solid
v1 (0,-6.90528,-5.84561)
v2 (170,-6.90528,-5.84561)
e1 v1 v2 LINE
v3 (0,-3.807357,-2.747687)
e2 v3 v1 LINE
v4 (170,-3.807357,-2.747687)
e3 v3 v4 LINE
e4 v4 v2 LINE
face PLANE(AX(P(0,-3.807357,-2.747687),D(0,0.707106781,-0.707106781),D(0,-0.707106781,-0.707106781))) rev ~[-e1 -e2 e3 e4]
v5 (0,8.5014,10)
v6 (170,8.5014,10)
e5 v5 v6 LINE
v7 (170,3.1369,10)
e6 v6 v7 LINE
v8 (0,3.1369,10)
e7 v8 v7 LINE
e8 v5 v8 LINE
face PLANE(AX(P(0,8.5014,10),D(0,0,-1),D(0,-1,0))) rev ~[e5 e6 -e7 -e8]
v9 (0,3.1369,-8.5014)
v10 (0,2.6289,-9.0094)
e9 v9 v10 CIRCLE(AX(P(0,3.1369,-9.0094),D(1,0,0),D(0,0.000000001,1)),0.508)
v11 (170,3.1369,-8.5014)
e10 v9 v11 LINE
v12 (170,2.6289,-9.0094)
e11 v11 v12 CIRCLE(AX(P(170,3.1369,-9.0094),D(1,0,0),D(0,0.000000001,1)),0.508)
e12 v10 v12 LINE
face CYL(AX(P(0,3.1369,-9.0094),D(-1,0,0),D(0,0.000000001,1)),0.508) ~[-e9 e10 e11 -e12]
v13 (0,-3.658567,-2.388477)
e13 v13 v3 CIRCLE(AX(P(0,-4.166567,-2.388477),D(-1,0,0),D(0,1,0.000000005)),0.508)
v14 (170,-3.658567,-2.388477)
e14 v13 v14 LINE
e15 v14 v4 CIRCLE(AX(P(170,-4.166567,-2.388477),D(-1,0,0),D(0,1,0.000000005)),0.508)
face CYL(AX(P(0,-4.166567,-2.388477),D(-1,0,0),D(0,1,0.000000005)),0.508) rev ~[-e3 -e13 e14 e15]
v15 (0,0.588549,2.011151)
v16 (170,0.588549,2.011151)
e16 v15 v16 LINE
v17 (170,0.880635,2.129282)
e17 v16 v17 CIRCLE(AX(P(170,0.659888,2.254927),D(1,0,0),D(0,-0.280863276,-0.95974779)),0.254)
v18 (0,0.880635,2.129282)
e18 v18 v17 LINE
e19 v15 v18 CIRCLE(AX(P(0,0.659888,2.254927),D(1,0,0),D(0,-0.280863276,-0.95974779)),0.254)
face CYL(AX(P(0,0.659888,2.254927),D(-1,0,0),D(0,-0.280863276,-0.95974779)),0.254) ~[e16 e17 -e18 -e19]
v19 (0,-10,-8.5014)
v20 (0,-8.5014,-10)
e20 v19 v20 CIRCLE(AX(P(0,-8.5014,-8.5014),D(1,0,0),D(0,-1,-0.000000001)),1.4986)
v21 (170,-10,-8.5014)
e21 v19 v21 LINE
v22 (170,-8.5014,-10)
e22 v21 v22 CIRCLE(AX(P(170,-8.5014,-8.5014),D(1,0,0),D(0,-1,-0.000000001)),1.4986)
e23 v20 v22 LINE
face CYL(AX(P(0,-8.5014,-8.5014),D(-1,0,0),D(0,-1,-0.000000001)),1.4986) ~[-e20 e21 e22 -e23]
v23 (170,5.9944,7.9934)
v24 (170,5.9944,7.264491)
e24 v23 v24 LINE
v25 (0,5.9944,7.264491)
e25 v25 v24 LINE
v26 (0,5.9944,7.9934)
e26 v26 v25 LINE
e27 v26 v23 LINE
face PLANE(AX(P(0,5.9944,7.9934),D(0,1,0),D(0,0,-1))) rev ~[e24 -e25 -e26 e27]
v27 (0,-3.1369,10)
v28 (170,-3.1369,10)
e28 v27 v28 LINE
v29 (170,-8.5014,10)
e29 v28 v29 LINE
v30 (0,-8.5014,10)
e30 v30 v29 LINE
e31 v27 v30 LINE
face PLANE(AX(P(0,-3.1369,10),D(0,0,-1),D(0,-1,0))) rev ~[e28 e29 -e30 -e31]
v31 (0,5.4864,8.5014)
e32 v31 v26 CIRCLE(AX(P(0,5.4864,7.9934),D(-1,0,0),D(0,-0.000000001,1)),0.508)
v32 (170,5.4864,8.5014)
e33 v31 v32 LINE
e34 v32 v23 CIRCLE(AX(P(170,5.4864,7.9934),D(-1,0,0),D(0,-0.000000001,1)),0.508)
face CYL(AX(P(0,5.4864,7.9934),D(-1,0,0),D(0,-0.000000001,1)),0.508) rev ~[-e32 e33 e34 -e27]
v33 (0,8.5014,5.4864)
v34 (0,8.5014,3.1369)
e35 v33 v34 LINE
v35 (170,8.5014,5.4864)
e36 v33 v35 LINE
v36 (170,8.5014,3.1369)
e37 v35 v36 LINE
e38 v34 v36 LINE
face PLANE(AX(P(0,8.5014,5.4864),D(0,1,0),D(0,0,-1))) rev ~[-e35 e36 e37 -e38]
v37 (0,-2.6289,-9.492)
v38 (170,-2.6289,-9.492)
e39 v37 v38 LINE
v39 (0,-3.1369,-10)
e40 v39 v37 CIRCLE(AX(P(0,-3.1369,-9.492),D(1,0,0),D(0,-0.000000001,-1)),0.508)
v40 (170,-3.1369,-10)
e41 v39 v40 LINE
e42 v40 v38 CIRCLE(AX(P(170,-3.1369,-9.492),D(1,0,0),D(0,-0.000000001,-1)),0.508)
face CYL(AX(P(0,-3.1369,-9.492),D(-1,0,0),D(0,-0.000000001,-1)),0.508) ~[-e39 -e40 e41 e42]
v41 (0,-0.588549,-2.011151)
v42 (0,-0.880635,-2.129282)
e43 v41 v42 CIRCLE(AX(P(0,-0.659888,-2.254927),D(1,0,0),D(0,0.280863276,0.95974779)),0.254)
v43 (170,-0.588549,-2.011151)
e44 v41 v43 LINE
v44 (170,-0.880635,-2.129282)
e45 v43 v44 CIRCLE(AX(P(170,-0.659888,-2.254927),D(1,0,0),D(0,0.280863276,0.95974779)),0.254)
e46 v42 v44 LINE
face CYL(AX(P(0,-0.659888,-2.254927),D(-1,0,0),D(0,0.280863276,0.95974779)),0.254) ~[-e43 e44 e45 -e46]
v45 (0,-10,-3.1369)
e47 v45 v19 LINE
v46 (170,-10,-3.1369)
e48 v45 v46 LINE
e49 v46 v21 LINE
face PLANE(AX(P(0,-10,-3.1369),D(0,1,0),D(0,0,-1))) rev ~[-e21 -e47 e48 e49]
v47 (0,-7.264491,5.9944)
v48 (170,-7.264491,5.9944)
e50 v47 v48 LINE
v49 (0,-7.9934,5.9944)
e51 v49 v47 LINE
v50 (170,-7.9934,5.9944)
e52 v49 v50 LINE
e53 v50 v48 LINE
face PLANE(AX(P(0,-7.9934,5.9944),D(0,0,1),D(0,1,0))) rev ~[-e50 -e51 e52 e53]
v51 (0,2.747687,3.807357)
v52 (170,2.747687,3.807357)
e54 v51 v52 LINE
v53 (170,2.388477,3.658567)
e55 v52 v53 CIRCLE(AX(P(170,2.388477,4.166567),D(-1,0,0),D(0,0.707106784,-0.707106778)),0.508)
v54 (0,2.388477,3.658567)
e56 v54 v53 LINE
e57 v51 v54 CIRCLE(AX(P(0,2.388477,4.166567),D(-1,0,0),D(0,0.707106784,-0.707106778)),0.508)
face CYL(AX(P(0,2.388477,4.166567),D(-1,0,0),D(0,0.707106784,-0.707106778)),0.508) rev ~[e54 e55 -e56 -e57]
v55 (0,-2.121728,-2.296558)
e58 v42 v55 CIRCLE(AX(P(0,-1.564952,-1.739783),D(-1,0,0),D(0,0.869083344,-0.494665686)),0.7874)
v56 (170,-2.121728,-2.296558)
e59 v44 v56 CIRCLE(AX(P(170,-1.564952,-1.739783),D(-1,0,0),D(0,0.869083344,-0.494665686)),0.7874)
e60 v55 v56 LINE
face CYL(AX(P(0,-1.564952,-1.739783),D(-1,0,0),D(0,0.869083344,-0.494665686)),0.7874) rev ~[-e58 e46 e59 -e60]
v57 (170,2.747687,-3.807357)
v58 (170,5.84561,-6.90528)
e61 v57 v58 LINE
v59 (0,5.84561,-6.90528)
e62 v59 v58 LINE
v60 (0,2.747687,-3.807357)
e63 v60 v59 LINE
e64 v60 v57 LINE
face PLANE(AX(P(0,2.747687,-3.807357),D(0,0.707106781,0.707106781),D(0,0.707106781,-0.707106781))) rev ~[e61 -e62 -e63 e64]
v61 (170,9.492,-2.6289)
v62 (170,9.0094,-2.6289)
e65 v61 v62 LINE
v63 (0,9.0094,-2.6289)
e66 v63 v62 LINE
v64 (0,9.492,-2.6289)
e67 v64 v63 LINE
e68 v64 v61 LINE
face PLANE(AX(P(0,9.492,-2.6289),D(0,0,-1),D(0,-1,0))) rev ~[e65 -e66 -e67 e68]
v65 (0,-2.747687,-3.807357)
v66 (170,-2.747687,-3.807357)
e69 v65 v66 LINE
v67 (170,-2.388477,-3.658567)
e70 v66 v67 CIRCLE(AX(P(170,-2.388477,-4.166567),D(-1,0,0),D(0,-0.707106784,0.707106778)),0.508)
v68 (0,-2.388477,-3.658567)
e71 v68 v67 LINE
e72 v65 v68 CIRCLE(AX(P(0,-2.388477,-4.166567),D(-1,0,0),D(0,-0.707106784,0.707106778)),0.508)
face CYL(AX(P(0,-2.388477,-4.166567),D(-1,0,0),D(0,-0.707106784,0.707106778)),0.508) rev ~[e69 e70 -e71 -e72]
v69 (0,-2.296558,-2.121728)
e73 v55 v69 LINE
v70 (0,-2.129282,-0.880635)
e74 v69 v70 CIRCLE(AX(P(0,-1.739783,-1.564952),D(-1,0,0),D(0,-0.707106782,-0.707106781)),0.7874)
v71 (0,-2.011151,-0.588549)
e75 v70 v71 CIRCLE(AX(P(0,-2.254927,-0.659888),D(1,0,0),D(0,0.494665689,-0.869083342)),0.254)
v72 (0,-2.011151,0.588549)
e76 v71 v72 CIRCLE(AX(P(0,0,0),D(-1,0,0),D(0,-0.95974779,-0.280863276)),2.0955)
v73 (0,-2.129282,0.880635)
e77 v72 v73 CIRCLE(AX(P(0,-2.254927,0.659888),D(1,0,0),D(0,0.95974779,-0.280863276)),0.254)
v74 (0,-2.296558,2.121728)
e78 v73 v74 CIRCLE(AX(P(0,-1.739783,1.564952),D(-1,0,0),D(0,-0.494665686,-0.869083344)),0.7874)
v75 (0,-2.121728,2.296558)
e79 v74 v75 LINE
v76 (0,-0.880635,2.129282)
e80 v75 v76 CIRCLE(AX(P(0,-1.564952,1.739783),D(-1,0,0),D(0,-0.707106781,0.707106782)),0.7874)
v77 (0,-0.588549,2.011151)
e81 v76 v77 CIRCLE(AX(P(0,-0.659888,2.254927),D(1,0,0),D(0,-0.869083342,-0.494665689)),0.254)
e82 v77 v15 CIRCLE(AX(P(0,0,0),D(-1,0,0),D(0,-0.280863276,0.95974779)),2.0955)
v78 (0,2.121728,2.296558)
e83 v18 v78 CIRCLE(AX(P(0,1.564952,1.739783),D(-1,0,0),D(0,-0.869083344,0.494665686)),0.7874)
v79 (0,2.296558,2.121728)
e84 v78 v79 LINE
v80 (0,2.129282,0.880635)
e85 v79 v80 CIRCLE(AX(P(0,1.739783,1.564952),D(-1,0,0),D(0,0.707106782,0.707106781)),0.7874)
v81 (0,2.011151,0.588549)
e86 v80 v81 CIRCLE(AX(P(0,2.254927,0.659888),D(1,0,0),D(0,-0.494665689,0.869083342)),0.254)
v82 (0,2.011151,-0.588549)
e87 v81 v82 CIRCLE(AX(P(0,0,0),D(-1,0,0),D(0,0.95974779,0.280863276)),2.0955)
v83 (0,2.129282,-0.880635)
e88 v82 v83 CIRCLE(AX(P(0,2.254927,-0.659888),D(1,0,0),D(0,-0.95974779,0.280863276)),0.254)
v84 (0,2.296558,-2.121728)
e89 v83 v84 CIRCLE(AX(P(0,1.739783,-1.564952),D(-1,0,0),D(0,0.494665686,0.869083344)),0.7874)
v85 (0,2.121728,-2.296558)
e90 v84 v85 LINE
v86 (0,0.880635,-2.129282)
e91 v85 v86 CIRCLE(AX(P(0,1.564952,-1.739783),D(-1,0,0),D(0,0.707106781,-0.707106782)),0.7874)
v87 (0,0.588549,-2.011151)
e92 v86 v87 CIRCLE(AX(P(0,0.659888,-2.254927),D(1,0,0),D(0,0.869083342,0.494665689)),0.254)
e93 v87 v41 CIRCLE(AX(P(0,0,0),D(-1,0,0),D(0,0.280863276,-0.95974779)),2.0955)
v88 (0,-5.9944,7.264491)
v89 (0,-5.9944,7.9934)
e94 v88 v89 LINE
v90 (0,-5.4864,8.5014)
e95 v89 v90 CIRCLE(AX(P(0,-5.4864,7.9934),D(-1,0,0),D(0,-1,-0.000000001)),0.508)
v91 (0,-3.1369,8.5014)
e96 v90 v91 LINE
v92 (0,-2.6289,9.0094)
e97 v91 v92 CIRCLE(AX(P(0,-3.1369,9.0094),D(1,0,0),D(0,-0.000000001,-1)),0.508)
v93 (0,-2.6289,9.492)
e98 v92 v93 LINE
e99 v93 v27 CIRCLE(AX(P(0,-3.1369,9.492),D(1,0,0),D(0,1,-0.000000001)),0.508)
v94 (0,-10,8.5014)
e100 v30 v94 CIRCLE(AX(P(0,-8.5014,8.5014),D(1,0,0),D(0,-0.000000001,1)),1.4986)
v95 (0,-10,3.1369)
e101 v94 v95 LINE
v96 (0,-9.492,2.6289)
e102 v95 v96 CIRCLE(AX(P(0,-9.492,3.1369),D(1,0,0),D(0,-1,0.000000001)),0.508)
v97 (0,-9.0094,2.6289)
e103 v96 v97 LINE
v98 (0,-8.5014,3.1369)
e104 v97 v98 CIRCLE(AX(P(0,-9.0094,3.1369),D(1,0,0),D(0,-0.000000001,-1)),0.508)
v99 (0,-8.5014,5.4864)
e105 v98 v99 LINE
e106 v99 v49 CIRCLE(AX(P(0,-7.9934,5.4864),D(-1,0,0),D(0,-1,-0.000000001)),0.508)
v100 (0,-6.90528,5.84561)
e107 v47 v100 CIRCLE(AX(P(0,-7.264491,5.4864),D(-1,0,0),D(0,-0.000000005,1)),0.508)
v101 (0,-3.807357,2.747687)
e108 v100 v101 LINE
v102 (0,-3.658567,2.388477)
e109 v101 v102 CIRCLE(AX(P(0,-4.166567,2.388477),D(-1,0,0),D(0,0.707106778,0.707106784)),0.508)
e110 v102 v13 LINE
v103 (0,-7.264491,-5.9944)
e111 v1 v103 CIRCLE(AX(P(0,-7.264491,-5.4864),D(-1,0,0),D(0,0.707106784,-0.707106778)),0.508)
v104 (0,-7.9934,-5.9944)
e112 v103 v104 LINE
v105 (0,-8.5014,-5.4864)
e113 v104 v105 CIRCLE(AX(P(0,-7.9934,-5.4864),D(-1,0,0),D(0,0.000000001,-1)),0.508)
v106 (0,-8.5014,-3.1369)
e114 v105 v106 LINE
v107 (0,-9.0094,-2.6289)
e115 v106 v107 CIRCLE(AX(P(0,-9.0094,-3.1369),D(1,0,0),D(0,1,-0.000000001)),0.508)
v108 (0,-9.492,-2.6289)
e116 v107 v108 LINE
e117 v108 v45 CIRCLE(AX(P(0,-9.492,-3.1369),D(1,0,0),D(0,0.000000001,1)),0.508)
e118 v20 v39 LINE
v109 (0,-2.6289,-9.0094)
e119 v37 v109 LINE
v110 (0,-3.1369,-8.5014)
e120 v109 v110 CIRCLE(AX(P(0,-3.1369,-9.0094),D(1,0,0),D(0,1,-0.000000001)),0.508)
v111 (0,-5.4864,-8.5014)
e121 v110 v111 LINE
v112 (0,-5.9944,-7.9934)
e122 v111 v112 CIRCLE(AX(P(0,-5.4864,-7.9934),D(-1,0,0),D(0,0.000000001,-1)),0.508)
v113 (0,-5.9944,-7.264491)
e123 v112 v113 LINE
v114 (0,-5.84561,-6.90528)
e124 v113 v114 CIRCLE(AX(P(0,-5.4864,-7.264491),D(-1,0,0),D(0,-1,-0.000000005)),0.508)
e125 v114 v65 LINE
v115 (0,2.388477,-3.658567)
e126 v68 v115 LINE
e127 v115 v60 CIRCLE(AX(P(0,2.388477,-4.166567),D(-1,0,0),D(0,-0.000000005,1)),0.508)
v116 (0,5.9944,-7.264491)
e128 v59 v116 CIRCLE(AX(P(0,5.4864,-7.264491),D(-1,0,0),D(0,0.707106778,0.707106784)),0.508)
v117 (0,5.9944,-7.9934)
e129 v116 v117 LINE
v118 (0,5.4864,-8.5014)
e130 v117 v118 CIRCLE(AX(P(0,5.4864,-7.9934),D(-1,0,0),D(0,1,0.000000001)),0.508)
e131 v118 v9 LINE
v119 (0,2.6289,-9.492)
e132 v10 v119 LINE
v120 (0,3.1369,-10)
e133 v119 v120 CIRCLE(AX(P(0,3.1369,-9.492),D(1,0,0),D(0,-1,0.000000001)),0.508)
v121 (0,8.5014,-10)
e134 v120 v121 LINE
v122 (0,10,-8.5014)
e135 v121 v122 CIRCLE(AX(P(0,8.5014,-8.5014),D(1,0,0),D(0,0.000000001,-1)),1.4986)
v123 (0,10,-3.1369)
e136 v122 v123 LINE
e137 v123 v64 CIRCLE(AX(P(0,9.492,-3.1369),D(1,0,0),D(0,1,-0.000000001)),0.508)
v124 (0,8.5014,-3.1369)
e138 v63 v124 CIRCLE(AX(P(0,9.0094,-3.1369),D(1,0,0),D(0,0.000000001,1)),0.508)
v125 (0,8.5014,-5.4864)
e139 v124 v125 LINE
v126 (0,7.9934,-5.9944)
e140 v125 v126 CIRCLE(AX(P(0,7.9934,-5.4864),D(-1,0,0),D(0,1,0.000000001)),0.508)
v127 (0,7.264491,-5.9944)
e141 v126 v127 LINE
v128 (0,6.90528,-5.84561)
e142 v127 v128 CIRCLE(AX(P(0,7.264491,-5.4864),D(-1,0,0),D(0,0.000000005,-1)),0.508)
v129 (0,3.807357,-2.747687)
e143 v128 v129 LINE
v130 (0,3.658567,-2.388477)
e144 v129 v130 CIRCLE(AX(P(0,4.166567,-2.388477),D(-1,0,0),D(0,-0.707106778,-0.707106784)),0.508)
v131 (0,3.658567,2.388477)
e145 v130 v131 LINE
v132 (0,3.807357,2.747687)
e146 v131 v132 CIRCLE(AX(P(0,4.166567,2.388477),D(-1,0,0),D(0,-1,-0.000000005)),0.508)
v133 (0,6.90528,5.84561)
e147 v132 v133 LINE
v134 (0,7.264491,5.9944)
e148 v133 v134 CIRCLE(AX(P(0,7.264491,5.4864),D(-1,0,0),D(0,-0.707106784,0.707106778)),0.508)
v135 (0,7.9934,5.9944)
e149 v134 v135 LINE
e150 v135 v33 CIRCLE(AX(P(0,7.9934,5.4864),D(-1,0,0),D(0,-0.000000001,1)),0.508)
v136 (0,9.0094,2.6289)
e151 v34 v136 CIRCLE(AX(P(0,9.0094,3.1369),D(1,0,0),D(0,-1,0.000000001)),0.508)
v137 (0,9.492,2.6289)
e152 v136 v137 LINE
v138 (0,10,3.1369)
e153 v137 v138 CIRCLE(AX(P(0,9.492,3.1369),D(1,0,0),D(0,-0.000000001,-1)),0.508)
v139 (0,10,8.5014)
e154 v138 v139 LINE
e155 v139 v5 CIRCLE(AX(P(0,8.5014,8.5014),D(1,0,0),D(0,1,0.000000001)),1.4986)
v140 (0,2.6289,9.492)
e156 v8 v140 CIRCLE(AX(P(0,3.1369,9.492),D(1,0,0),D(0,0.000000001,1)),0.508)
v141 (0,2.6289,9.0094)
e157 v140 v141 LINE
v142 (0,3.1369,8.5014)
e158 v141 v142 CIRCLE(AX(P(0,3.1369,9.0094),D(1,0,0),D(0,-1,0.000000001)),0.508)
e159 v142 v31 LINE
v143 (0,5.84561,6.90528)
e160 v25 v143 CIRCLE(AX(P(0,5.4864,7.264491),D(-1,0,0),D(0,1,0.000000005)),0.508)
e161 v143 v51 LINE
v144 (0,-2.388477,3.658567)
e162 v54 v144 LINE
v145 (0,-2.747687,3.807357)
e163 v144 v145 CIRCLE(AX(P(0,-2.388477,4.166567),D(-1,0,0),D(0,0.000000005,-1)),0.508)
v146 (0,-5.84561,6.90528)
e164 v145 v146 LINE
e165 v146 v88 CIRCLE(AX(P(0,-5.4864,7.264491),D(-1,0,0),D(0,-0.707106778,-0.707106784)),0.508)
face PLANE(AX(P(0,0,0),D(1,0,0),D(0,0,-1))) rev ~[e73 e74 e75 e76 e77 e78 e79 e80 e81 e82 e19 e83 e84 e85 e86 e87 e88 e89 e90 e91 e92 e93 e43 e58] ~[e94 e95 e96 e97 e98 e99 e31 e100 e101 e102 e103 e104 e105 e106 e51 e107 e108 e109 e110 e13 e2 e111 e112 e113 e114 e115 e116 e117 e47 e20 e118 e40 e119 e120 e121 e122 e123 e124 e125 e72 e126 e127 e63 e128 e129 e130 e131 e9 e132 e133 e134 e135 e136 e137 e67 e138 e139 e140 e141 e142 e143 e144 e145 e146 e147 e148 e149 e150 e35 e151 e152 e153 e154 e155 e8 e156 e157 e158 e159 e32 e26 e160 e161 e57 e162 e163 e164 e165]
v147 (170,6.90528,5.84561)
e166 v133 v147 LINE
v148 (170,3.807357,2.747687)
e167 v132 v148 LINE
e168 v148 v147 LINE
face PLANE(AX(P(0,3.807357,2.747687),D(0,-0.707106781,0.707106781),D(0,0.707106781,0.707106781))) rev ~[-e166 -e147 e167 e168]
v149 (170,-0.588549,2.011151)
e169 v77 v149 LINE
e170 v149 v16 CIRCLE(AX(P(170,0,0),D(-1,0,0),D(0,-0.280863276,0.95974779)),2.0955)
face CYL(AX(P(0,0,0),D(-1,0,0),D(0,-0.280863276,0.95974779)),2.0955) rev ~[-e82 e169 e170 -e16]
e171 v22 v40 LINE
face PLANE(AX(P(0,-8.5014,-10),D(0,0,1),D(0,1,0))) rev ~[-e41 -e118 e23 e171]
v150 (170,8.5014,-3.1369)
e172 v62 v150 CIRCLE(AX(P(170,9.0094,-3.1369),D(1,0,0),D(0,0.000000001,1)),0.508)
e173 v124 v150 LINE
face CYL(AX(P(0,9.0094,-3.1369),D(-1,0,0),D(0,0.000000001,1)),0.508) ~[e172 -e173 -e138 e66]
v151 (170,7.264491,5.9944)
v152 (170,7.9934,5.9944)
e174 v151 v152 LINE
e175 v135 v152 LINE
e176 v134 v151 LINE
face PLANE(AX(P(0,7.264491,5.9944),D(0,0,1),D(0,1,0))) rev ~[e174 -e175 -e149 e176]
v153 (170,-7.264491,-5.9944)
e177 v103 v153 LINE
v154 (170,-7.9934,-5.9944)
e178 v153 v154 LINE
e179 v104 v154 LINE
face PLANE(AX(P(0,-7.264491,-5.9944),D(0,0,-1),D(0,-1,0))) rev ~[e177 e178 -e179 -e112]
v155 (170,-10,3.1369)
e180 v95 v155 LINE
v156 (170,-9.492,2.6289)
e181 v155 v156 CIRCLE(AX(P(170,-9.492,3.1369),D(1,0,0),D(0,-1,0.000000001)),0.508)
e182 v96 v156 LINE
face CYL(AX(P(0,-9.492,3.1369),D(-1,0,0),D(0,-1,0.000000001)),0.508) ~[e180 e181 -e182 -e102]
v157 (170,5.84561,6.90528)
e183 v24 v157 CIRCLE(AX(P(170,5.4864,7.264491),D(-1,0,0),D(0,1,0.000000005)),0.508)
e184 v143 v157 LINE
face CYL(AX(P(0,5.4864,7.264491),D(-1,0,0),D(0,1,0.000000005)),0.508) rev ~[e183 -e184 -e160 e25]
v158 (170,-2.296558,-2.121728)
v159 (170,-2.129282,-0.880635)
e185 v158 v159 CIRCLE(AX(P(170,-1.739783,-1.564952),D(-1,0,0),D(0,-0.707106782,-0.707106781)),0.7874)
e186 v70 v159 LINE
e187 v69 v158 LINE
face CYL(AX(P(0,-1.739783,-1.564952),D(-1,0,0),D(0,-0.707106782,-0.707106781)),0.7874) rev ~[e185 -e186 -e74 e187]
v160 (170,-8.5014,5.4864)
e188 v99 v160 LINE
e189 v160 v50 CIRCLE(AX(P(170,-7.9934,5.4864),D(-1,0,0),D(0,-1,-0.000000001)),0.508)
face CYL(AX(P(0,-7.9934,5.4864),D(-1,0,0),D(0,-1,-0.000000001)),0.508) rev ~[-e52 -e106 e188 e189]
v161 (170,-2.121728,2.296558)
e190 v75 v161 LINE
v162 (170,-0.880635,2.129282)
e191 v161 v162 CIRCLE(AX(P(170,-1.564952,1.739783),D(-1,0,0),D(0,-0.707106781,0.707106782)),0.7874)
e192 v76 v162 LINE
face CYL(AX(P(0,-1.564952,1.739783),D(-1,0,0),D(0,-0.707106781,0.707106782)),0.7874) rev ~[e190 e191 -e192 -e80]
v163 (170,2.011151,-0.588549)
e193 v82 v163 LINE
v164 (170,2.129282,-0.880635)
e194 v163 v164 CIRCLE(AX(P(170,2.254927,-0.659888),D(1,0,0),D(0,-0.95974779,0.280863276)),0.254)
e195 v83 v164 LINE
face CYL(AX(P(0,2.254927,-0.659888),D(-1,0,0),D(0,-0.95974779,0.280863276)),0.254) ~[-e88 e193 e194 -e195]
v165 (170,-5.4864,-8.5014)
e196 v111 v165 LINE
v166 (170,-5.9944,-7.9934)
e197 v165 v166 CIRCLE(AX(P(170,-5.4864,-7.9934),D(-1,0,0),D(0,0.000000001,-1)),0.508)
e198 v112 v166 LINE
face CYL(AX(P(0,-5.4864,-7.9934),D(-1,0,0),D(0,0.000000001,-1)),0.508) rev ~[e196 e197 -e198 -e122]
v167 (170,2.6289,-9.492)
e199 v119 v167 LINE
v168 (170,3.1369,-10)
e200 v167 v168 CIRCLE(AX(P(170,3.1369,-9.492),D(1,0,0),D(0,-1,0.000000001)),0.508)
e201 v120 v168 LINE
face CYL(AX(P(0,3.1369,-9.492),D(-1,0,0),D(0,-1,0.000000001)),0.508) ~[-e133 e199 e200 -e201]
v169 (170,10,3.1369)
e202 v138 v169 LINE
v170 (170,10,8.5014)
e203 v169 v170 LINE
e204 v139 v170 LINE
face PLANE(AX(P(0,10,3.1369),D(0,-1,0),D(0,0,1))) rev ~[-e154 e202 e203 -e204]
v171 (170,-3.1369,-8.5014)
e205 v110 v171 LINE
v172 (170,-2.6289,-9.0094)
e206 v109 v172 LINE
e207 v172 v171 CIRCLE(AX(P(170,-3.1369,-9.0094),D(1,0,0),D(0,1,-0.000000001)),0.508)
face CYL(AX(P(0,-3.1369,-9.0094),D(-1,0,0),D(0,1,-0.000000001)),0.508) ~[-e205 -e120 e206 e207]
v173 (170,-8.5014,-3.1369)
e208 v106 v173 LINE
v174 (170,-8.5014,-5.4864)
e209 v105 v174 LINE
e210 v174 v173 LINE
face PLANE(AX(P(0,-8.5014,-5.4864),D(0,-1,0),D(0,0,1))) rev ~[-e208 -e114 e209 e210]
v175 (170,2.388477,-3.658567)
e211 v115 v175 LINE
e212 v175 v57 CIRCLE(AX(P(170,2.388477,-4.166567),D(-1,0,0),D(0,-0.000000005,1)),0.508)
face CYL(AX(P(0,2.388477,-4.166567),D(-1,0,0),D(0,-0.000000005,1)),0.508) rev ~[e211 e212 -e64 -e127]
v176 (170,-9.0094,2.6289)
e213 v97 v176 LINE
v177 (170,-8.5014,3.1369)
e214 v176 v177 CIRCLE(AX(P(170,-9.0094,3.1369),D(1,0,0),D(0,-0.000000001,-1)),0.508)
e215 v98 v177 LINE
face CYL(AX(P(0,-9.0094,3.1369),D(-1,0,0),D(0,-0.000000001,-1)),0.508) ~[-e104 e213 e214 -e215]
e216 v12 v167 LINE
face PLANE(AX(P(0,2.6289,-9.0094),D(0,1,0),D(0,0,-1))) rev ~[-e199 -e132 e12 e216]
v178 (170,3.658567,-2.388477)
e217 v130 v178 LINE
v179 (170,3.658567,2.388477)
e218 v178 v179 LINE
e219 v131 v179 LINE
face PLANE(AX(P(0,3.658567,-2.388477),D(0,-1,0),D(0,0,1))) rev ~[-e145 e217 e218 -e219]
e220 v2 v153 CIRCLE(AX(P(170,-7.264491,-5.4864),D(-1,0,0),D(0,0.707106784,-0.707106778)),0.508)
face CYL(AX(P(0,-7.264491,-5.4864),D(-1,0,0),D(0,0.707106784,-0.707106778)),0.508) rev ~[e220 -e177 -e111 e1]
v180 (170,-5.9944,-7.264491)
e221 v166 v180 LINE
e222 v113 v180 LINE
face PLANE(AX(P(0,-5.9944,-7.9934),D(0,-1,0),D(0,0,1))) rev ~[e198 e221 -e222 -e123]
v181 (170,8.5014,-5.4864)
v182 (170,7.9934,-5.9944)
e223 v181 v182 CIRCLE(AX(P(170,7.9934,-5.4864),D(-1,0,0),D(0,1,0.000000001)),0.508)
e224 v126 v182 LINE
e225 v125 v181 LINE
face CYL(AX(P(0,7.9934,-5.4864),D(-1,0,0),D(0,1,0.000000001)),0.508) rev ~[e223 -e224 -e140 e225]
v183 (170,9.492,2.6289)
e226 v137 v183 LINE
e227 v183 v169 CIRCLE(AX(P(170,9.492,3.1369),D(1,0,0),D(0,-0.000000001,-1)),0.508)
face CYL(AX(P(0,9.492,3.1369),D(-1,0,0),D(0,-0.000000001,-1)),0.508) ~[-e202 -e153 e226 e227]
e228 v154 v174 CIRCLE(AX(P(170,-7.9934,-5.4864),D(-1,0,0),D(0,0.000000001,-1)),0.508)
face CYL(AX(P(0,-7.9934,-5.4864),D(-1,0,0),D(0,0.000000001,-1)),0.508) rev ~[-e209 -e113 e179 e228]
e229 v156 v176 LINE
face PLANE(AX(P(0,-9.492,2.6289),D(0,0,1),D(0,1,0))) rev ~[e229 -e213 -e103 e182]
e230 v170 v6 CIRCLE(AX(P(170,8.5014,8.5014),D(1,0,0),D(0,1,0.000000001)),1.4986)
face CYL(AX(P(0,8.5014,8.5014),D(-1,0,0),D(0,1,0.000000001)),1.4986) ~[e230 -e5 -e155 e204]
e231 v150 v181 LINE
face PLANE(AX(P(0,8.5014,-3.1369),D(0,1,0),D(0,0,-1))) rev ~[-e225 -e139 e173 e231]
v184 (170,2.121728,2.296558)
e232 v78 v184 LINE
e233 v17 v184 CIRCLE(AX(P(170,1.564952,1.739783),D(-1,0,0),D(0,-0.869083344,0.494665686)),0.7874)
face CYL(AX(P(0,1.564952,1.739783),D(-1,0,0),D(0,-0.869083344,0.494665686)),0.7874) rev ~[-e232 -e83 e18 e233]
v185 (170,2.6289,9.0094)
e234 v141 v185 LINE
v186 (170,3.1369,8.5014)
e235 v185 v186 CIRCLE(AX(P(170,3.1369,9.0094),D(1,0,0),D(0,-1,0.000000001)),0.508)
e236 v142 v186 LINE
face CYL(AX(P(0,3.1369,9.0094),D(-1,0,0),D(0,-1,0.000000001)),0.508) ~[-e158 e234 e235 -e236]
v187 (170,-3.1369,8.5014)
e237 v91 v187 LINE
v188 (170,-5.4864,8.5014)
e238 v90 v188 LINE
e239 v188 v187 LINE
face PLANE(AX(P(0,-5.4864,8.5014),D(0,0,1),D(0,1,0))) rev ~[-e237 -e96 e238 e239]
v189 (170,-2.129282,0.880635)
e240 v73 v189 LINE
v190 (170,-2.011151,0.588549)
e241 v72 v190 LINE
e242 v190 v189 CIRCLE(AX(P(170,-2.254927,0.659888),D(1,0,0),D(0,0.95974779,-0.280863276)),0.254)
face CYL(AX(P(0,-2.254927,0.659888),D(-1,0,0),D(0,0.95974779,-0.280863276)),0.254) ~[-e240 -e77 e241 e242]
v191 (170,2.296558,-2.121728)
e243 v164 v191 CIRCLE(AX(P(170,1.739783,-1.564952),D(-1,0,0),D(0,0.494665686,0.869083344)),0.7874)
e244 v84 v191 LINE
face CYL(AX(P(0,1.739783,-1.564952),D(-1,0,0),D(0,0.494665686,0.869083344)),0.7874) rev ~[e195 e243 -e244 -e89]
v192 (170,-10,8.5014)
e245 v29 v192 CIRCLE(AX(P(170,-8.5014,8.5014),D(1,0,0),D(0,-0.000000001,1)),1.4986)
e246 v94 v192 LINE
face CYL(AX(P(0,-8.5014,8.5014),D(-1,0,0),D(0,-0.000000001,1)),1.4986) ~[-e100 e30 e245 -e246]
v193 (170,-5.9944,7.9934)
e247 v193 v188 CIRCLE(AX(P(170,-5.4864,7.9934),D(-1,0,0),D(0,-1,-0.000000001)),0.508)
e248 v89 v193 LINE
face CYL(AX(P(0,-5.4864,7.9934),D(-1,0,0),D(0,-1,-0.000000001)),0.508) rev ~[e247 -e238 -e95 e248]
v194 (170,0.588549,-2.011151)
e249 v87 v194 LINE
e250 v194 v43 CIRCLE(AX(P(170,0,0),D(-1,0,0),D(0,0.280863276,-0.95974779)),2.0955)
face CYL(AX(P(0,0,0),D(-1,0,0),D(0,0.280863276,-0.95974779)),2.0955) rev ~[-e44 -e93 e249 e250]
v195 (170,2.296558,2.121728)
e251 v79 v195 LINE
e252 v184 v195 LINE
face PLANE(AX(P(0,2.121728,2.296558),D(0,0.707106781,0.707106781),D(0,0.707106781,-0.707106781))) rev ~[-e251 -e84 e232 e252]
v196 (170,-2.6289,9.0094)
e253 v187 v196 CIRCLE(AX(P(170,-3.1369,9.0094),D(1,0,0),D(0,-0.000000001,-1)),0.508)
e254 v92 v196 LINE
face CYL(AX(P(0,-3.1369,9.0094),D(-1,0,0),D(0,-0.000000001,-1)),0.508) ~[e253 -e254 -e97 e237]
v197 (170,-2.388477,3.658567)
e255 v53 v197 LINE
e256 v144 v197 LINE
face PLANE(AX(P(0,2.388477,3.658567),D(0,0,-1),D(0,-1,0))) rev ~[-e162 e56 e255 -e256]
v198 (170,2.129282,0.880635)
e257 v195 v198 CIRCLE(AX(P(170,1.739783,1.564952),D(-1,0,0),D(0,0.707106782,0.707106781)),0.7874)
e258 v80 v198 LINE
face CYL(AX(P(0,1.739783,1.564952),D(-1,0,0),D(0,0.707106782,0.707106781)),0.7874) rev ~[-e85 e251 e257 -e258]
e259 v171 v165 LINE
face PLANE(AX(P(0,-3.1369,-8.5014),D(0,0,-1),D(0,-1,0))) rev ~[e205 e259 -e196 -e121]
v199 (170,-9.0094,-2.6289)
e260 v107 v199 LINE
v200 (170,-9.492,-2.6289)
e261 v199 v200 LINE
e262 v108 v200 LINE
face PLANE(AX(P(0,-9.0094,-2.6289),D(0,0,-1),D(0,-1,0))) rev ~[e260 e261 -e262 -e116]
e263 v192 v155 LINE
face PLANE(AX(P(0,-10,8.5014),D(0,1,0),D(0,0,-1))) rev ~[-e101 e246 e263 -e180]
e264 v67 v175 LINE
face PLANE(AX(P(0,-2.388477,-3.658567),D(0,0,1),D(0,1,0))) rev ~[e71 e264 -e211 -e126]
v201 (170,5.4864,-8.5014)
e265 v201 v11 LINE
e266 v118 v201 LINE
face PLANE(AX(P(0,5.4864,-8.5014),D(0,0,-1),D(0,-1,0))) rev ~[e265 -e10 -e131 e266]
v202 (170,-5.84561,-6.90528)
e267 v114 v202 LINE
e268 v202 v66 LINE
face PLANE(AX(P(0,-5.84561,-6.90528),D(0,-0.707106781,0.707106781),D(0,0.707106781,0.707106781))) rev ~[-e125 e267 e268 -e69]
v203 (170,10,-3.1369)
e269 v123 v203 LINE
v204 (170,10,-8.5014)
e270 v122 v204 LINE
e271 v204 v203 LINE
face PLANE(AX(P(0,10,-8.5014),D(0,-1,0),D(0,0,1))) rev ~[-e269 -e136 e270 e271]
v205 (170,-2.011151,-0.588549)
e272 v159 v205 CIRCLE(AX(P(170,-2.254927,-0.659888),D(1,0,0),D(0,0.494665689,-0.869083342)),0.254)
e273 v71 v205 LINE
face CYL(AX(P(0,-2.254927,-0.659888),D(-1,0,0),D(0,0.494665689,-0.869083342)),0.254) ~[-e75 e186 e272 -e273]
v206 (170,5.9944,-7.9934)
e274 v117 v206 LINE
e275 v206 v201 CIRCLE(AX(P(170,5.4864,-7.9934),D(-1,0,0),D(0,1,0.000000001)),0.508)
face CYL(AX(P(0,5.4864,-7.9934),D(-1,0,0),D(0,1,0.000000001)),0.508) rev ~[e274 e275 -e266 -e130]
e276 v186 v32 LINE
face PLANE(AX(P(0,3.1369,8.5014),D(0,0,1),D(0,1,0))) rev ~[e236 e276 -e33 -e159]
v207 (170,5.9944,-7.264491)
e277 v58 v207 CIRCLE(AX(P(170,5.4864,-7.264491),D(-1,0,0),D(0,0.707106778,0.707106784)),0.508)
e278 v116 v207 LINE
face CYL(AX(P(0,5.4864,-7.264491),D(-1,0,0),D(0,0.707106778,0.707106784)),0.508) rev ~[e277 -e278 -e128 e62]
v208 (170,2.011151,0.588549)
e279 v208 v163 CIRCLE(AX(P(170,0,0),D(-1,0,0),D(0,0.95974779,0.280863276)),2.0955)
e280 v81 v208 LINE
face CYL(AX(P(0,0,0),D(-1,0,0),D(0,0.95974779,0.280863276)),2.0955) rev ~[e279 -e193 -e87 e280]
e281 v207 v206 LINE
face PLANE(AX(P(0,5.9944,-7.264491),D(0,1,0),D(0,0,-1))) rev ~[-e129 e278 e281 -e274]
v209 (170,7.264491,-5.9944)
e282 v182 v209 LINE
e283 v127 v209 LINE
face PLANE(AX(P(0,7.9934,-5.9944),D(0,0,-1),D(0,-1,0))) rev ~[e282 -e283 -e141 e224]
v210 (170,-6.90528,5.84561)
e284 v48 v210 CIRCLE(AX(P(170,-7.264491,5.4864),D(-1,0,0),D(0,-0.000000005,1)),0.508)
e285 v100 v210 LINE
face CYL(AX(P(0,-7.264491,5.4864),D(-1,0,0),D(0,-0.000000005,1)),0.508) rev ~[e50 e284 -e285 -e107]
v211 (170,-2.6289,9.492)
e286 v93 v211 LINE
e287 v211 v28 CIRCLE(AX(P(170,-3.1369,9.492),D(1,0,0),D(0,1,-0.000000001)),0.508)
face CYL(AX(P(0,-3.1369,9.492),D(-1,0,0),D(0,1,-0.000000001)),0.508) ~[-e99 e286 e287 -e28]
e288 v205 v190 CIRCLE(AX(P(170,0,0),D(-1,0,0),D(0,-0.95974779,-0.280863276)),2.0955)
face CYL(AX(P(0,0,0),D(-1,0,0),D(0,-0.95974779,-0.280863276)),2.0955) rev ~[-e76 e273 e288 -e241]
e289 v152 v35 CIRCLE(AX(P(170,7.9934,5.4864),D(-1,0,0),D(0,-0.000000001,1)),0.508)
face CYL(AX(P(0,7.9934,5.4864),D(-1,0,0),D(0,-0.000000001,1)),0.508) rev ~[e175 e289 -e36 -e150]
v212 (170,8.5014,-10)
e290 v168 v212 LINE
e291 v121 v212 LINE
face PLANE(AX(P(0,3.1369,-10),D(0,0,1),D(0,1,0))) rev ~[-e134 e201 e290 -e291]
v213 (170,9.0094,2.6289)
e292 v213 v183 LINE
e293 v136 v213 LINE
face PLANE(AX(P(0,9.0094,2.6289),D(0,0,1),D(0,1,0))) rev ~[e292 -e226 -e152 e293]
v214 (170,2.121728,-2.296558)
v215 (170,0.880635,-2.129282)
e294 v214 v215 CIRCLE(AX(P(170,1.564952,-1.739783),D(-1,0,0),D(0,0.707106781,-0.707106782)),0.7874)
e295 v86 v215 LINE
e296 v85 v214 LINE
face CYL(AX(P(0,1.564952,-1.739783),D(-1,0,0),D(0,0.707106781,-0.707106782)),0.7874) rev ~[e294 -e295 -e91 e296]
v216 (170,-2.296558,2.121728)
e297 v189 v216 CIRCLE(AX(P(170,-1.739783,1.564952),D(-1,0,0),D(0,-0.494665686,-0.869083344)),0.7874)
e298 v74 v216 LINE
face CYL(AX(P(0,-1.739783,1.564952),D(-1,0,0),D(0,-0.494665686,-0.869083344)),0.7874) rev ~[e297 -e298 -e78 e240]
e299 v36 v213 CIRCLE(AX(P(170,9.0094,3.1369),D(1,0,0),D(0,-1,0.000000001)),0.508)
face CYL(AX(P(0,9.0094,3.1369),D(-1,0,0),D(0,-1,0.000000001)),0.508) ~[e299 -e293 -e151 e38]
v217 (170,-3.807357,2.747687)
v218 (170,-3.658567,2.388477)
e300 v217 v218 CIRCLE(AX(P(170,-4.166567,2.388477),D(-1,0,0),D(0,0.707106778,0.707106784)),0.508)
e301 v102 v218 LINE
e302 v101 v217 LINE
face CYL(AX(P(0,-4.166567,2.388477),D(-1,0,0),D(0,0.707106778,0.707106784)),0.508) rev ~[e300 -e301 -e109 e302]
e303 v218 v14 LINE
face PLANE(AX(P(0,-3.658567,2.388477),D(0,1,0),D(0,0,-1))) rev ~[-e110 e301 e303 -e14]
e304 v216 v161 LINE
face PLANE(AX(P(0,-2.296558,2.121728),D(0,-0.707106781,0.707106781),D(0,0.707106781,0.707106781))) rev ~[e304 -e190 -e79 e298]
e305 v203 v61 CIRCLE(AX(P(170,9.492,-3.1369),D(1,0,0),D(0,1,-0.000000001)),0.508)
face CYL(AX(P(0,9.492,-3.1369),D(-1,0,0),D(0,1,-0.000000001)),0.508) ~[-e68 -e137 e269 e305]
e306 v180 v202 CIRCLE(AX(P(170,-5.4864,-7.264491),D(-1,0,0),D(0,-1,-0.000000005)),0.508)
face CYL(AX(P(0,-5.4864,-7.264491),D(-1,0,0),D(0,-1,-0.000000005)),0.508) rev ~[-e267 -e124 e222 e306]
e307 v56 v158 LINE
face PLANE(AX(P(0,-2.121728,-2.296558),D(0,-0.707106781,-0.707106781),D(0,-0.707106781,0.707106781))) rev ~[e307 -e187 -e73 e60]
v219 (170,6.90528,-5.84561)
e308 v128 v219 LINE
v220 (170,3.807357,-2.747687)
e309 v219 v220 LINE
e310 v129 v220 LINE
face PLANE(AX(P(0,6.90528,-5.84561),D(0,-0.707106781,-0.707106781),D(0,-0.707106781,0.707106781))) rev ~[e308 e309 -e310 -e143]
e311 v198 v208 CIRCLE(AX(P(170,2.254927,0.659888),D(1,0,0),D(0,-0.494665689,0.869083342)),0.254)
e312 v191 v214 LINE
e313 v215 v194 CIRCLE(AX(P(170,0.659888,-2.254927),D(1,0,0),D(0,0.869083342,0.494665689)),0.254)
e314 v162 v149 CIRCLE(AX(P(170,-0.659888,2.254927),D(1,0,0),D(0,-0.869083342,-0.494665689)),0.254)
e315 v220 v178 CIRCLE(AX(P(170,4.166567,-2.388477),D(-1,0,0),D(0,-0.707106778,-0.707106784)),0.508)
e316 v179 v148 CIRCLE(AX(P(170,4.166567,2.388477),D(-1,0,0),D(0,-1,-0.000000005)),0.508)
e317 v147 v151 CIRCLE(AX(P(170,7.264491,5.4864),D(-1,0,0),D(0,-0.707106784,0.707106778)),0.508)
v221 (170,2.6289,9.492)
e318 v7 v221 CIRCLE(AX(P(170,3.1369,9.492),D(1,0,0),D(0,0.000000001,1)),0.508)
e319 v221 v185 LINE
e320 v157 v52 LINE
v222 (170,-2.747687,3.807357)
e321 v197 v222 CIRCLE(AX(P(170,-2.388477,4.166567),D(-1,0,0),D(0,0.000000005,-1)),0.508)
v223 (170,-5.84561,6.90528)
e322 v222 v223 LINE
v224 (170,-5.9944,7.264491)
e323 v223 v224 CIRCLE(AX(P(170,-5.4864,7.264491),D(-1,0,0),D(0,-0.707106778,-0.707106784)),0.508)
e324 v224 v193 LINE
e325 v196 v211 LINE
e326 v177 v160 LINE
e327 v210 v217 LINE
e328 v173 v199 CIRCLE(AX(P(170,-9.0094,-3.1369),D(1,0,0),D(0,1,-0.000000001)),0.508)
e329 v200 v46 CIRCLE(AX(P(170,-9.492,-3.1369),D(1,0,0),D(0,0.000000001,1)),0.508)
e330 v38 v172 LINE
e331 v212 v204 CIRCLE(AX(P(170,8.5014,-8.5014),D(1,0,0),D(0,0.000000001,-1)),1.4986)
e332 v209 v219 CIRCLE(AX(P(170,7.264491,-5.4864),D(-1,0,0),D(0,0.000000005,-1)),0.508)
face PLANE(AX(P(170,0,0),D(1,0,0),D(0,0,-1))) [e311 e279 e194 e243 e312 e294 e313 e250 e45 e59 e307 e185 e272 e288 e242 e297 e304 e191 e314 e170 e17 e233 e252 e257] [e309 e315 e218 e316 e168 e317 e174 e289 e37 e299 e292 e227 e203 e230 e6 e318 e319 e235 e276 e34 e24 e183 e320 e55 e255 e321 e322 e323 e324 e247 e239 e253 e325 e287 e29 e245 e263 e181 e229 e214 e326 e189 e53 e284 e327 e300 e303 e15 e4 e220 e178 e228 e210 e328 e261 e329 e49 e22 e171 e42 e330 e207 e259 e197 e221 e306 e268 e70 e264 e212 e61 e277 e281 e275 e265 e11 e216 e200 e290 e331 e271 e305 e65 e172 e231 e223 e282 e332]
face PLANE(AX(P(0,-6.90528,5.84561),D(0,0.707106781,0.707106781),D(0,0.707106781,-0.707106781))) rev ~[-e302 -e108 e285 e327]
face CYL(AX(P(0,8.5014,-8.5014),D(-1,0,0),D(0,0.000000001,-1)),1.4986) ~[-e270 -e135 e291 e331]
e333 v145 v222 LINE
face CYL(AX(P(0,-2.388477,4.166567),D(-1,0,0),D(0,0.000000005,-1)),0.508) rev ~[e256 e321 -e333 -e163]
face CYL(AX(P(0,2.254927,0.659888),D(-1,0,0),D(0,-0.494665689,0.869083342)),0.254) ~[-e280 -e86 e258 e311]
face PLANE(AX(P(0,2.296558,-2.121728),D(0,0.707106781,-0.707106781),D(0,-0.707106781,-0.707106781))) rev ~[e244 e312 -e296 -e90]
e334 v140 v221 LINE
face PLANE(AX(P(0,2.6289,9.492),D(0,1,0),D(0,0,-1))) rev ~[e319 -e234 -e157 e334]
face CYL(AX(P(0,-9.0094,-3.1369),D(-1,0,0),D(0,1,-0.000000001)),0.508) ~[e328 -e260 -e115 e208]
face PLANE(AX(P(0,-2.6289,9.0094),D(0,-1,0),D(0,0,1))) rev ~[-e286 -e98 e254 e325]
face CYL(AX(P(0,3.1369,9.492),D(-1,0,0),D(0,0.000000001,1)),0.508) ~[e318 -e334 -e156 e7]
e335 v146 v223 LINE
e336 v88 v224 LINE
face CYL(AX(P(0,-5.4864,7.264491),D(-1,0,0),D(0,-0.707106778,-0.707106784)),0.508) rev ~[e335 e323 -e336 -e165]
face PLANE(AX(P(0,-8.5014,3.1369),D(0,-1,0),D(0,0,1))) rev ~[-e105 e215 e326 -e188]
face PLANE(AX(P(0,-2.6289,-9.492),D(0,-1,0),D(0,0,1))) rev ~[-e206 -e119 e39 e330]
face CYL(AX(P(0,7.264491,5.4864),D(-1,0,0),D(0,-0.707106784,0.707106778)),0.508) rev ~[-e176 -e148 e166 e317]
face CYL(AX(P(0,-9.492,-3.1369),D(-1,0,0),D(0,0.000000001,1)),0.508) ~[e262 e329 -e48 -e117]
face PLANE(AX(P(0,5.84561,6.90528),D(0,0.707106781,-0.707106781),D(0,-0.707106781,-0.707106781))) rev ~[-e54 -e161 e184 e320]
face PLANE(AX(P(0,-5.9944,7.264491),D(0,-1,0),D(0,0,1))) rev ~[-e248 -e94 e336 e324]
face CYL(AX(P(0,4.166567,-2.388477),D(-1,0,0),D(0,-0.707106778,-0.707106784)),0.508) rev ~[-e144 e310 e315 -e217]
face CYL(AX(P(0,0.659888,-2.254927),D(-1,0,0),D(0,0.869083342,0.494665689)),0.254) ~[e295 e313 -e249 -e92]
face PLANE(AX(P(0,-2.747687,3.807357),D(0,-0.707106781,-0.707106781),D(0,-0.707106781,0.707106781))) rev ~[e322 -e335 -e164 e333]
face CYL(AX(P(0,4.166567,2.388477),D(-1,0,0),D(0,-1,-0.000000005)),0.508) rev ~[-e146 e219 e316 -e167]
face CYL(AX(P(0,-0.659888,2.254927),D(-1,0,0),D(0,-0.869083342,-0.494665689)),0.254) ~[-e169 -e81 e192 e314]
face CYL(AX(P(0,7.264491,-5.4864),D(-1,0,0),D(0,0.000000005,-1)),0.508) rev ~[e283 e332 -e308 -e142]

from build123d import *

# Parameters (mm, degrees)
F_20_SERIES_20_2020_1_DEPTH = 170


with BuildPart() as part:
    # Sketch11 → 20_series 20-2020(1) (new body)
    with BuildSketch(Plane(origin=(0, 0, 0), x_dir=(0, 0, -1), z_dir=(1, 0, 0))):
        with BuildLine():
            Line((9.0094, 2.6289), (9.492, 2.6289))
            ThreePointArc((9.492, 2.6289), (9.851210245, 2.777689755), (10, 3.1369))
            Line((10, 3.1369), (10, 8.5014))
            ThreePointArc((10, 8.5014), (9.561070222, 9.561070222), (8.5014, 10))
            Line((8.5014, 10), (3.1369, 10))
            ThreePointArc((3.1369, 10), (2.777689755, 9.851210245), (2.6289, 9.492))
            Line((2.6289, 9.492), (2.6289, 9.0094))
            ThreePointArc((2.6289, 9.0094), (2.777689755, 8.650189755), (3.1369, 8.5014))
            Line((3.1369, 8.5014), (5.4864, 8.5014))
            ThreePointArc((5.4864, 8.5014), (5.845610245, 8.352610245), (5.9944, 7.9934))
            Line((5.9944, 7.9934), (5.9944, 7.264490712))
            ThreePointArc((5.9944, 7.264490712), (5.955730803, 7.070087528), (5.845610245, 6.905280467))
            Line((5.845610245, 6.905280467), (2.747686782, 3.807357004))
            ThreePointArc((2.747686782, 3.807357004), (2.582879721, 3.697236446), (2.388476537, 3.658567249))
            Line((2.388476537, 3.658567249), (-2.388476537, 3.658567249))
            ThreePointArc((-2.388476537, 3.658567249), (-2.582879721, 3.697236446), (-2.747686782, 3.807357004))
            Line((-2.747686782, 3.807357004), (-5.845610245, 6.905280467))
            ThreePointArc((-5.845610245, 6.905280467), (-5.955730803, 7.070087528), (-5.9944, 7.264490712))
            Line((-5.9944, 7.264490712), (-5.9944, 7.9934))
            ThreePointArc((-5.9944, 7.9934), (-5.845610245, 8.352610245), (-5.4864, 8.5014))
            Line((-5.4864, 8.5014), (-3.1369, 8.5014))
            ThreePointArc((-3.1369, 8.5014), (-2.777689755, 8.650189755), (-2.6289, 9.0094))
            Line((-2.6289, 9.0094), (-2.6289, 9.492))
            ThreePointArc((-2.6289, 9.492), (-2.777689755, 9.851210245), (-3.1369, 10))
            Line((-3.1369, 10), (-8.5014, 10))
            ThreePointArc((-8.5014, 10), (-9.561070222, 9.561070222), (-10, 8.5014))
            Line((-10, 8.5014), (-10, 3.1369))
            ThreePointArc((-10, 3.1369), (-9.851210245, 2.777689755), (-9.492, 2.6289))
            Line((-9.492, 2.6289), (-9.0094, 2.6289))
            ThreePointArc((-9.0094, 2.6289), (-8.650189755, 2.777689755), (-8.5014, 3.1369))
            Line((-8.5014, 3.1369), (-8.5014, 5.4864))
            ThreePointArc((-8.5014, 5.4864), (-8.352610245, 5.845610245), (-7.9934, 5.9944))
            Line((-7.9934, 5.9944), (-7.264490712, 5.9944))
            ThreePointArc((-7.264490712, 5.9944), (-7.070087528, 5.955730803), (-6.905280467, 5.845610245))
            Line((-6.905280467, 5.845610245), (-3.807357004, 2.747686782))
            ThreePointArc((-3.807357004, 2.747686782), (-3.697236446, 2.582879721), (-3.658567249, 2.388476537))
            Line((-3.658567249, 2.388476537), (-3.658567249, -2.388476537))
            ThreePointArc((-3.658567249, -2.388476537), (-3.697236446, -2.582879721), (-3.807357004, -2.747686782))
            Line((-3.807357004, -2.747686782), (-6.905280467, -5.845610245))
            ThreePointArc((-6.905280467, -5.845610245), (-7.070087528, -5.955730803), (-7.264490712, -5.9944))
            Line((-7.264490712, -5.9944), (-7.9934, -5.9944))
            ThreePointArc((-7.9934, -5.9944), (-8.352610245, -5.845610245), (-8.5014, -5.4864))
            Line((-8.5014, -5.4864), (-8.5014, -3.1369))
            ThreePointArc((-8.5014, -3.1369), (-8.650189755, -2.777689755), (-9.0094, -2.6289))
            Line((-9.0094, -2.6289), (-9.492, -2.6289))
            ThreePointArc((-9.492, -2.6289), (-9.851210245, -2.777689755), (-10, -3.1369))
            Line((-10, -3.1369), (-10, -8.5014))
            ThreePointArc((-10, -8.5014), (-9.561070222, -9.561070222), (-8.5014, -10))
            Line((-8.5014, -10), (-3.1369, -10))
            ThreePointArc((-3.1369, -10), (-2.777689755, -9.851210245), (-2.6289, -9.492))
            Line((-2.6289, -9.492), (-2.6289, -9.0094))
            ThreePointArc((-2.6289, -9.0094), (-2.777689755, -8.650189755), (-3.1369, -8.5014))
            Line((-3.1369, -8.5014), (-5.4864, -8.5014))
            ThreePointArc((-5.4864, -8.5014), (-5.845610245, -8.352610245), (-5.9944, -7.9934))
            Line((-5.9944, -7.9934), (-5.9944, -7.264490712))
            ThreePointArc((-5.9944, -7.264490712), (-5.955730803, -7.070087528), (-5.845610245, -6.905280467))
            Line((-5.845610245, -6.905280467), (-2.747686782, -3.807357004))
            ThreePointArc((-2.747686782, -3.807357004), (-2.582879721, -3.697236446), (-2.388476537, -3.658567249))
            Line((-2.388476537, -3.658567249), (2.388476537, -3.658567249))
            ThreePointArc((2.388476537, -3.658567249), (2.582879721, -3.697236446), (2.747686782, -3.807357004))
            Line((2.747686782, -3.807357004), (5.845610245, -6.905280467))
            ThreePointArc((5.845610245, -6.905280467), (5.955730803, -7.070087528), (5.9944, -7.264490712))
            Line((5.9944, -7.264490712), (5.9944, -7.9934))
            ThreePointArc((5.9944, -7.9934), (5.845610245, -8.352610245), (5.4864, -8.5014))
            Line((5.4864, -8.5014), (3.1369, -8.5014))
            ThreePointArc((3.1369, -8.5014), (2.777689755, -8.650189755), (2.6289, -9.0094))
            Line((2.6289, -9.0094), (2.6289, -9.492))
            ThreePointArc((2.6289, -9.492), (2.777689755, -9.851210245), (3.1369, -10))
            Line((3.1369, -10), (8.5014, -10))
            ThreePointArc((8.5014, -10), (9.561070222, -9.561070222), (10, -8.5014))
            Line((10, -8.5014), (10, -3.1369))
            ThreePointArc((10, -3.1369), (9.851210245, -2.777689755), (9.492, -2.6289))
            Line((9.492, -2.6289), (9.0094, -2.6289))
            ThreePointArc((9.0094, -2.6289), (8.650189755, -2.777689755), (8.5014, -3.1369))
            Line((8.5014, -3.1369), (8.5014, -5.4864))
            ThreePointArc((8.5014, -5.4864), (8.352610245, -5.845610245), (7.9934, -5.9944))
            Line((7.9934, -5.9944), (7.264490712, -5.9944))
            ThreePointArc((7.264490712, -5.9944), (7.070087528, -5.955730803), (6.905280467, -5.845610245))
            Line((6.905280467, -5.845610245), (3.807357004, -2.747686782))
            ThreePointArc((3.807357004, -2.747686782), (3.697236446, -2.582879721), (3.658567249, -2.388476537))
            Line((3.658567249, -2.388476537), (3.658567249, 2.388476537))
            ThreePointArc((3.658567249, 2.388476537), (3.697236446, 2.582879721), (3.807357004, 2.747686782))
            Line((3.807357004, 2.747686782), (6.905280467, 5.845610245))
            ThreePointArc((6.905280467, 5.845610245), (7.070087528, 5.955730803), (7.264490712, 5.9944))
            Line((7.264490712, 5.9944), (7.9934, 5.9944))
            ThreePointArc((7.9934, 5.9944), (8.352610245, 5.845610245), (8.5014, 5.4864))
            Line((8.5014, 5.4864), (8.5014, 3.1369))
            ThreePointArc((8.5014, 3.1369), (8.650189755, 2.777689755), (9.0094, 2.6289))
        make_face()
        with BuildLine():
            Line((-2.296558466, 2.121727546), (-2.121727546, 2.296558466))
            ThreePointArc((-2.121727546, 2.296558466), (-1.459775814, 2.520126613), (-0.880635441, 2.129282347))
            ThreePointArc((-0.880635441, 2.129282347), (-0.755121693, 2.019456424), (-0.588548999, 2.011151493))
            ThreePointArc((-0.588548999, 2.011151493), (0, 2.0955), (0.588548999, 2.011151493))
            ThreePointArc((0.588548999, 2.011151493), (0.755121693, 2.019456424), (0.880635441, 2.129282347))
            ThreePointArc((0.880635441, 2.129282347), (1.459775814, 2.520126613), (2.121727546, 2.296558466))
            Line((2.121727546, 2.296558466), (2.296558466, 2.121727546))
            ThreePointArc((2.296558466, 2.121727546), (2.520126613, 1.459775814), (2.129282347, 0.880635441))
            ThreePointArc((2.129282347, 0.880635441), (2.019456424, 0.755121693), (2.011151493, 0.588548999))
            ThreePointArc((2.011151493, 0.588548999), (2.0955, 0), (2.011151493, -0.588548999))
            ThreePointArc((2.011151493, -0.588548999), (2.019456424, -0.755121693), (2.129282347, -0.880635441))
            ThreePointArc((2.129282347, -0.880635441), (2.520126613, -1.459775814), (2.296558466, -2.121727546))
            Line((2.296558466, -2.121727546), (2.121727546, -2.296558466))
            ThreePointArc((2.121727546, -2.296558466), (1.459775814, -2.520126613), (0.880635441, -2.129282347))
            ThreePointArc((0.880635441, -2.129282347), (0.755121693, -2.019456424), (0.588548999, -2.011151493))
            ThreePointArc((0.588548999, -2.011151493), (0, -2.0955), (-0.588548999, -2.011151493))
            ThreePointArc((-0.588548999, -2.011151493), (-0.755121693, -2.019456424), (-0.880635441, -2.129282347))
            ThreePointArc((-0.880635441, -2.129282347), (-1.459775814, -2.520126613), (-2.121727546, -2.296558466))
            Line((-2.121727546, -2.296558466), (-2.296558466, -2.121727546))
            ThreePointArc((-2.296558466, -2.121727546), (-2.520126613, -1.459775814), (-2.129282347, -0.880635441))
            ThreePointArc((-2.129282347, -0.880635441), (-2.019456424, -0.755121693), (-2.011151493, -0.588548999))
            ThreePointArc((-2.011151493, -0.588548999), (-2.0955, 0), (-2.011151493, 0.588548999))
            ThreePointArc((-2.011151493, 0.588548999), (-2.019456424, 0.755121693), (-2.129282347, 0.880635441))
            ThreePointArc((-2.129282347, 0.880635441), (-2.520126613, 1.459775814), (-2.296558466, 2.121727546))
        make_face(mode=Mode.SUBTRACT)
    extrude(amount=F_20_SERIES_20_2020_1_DEPTH)


solid = part.part
